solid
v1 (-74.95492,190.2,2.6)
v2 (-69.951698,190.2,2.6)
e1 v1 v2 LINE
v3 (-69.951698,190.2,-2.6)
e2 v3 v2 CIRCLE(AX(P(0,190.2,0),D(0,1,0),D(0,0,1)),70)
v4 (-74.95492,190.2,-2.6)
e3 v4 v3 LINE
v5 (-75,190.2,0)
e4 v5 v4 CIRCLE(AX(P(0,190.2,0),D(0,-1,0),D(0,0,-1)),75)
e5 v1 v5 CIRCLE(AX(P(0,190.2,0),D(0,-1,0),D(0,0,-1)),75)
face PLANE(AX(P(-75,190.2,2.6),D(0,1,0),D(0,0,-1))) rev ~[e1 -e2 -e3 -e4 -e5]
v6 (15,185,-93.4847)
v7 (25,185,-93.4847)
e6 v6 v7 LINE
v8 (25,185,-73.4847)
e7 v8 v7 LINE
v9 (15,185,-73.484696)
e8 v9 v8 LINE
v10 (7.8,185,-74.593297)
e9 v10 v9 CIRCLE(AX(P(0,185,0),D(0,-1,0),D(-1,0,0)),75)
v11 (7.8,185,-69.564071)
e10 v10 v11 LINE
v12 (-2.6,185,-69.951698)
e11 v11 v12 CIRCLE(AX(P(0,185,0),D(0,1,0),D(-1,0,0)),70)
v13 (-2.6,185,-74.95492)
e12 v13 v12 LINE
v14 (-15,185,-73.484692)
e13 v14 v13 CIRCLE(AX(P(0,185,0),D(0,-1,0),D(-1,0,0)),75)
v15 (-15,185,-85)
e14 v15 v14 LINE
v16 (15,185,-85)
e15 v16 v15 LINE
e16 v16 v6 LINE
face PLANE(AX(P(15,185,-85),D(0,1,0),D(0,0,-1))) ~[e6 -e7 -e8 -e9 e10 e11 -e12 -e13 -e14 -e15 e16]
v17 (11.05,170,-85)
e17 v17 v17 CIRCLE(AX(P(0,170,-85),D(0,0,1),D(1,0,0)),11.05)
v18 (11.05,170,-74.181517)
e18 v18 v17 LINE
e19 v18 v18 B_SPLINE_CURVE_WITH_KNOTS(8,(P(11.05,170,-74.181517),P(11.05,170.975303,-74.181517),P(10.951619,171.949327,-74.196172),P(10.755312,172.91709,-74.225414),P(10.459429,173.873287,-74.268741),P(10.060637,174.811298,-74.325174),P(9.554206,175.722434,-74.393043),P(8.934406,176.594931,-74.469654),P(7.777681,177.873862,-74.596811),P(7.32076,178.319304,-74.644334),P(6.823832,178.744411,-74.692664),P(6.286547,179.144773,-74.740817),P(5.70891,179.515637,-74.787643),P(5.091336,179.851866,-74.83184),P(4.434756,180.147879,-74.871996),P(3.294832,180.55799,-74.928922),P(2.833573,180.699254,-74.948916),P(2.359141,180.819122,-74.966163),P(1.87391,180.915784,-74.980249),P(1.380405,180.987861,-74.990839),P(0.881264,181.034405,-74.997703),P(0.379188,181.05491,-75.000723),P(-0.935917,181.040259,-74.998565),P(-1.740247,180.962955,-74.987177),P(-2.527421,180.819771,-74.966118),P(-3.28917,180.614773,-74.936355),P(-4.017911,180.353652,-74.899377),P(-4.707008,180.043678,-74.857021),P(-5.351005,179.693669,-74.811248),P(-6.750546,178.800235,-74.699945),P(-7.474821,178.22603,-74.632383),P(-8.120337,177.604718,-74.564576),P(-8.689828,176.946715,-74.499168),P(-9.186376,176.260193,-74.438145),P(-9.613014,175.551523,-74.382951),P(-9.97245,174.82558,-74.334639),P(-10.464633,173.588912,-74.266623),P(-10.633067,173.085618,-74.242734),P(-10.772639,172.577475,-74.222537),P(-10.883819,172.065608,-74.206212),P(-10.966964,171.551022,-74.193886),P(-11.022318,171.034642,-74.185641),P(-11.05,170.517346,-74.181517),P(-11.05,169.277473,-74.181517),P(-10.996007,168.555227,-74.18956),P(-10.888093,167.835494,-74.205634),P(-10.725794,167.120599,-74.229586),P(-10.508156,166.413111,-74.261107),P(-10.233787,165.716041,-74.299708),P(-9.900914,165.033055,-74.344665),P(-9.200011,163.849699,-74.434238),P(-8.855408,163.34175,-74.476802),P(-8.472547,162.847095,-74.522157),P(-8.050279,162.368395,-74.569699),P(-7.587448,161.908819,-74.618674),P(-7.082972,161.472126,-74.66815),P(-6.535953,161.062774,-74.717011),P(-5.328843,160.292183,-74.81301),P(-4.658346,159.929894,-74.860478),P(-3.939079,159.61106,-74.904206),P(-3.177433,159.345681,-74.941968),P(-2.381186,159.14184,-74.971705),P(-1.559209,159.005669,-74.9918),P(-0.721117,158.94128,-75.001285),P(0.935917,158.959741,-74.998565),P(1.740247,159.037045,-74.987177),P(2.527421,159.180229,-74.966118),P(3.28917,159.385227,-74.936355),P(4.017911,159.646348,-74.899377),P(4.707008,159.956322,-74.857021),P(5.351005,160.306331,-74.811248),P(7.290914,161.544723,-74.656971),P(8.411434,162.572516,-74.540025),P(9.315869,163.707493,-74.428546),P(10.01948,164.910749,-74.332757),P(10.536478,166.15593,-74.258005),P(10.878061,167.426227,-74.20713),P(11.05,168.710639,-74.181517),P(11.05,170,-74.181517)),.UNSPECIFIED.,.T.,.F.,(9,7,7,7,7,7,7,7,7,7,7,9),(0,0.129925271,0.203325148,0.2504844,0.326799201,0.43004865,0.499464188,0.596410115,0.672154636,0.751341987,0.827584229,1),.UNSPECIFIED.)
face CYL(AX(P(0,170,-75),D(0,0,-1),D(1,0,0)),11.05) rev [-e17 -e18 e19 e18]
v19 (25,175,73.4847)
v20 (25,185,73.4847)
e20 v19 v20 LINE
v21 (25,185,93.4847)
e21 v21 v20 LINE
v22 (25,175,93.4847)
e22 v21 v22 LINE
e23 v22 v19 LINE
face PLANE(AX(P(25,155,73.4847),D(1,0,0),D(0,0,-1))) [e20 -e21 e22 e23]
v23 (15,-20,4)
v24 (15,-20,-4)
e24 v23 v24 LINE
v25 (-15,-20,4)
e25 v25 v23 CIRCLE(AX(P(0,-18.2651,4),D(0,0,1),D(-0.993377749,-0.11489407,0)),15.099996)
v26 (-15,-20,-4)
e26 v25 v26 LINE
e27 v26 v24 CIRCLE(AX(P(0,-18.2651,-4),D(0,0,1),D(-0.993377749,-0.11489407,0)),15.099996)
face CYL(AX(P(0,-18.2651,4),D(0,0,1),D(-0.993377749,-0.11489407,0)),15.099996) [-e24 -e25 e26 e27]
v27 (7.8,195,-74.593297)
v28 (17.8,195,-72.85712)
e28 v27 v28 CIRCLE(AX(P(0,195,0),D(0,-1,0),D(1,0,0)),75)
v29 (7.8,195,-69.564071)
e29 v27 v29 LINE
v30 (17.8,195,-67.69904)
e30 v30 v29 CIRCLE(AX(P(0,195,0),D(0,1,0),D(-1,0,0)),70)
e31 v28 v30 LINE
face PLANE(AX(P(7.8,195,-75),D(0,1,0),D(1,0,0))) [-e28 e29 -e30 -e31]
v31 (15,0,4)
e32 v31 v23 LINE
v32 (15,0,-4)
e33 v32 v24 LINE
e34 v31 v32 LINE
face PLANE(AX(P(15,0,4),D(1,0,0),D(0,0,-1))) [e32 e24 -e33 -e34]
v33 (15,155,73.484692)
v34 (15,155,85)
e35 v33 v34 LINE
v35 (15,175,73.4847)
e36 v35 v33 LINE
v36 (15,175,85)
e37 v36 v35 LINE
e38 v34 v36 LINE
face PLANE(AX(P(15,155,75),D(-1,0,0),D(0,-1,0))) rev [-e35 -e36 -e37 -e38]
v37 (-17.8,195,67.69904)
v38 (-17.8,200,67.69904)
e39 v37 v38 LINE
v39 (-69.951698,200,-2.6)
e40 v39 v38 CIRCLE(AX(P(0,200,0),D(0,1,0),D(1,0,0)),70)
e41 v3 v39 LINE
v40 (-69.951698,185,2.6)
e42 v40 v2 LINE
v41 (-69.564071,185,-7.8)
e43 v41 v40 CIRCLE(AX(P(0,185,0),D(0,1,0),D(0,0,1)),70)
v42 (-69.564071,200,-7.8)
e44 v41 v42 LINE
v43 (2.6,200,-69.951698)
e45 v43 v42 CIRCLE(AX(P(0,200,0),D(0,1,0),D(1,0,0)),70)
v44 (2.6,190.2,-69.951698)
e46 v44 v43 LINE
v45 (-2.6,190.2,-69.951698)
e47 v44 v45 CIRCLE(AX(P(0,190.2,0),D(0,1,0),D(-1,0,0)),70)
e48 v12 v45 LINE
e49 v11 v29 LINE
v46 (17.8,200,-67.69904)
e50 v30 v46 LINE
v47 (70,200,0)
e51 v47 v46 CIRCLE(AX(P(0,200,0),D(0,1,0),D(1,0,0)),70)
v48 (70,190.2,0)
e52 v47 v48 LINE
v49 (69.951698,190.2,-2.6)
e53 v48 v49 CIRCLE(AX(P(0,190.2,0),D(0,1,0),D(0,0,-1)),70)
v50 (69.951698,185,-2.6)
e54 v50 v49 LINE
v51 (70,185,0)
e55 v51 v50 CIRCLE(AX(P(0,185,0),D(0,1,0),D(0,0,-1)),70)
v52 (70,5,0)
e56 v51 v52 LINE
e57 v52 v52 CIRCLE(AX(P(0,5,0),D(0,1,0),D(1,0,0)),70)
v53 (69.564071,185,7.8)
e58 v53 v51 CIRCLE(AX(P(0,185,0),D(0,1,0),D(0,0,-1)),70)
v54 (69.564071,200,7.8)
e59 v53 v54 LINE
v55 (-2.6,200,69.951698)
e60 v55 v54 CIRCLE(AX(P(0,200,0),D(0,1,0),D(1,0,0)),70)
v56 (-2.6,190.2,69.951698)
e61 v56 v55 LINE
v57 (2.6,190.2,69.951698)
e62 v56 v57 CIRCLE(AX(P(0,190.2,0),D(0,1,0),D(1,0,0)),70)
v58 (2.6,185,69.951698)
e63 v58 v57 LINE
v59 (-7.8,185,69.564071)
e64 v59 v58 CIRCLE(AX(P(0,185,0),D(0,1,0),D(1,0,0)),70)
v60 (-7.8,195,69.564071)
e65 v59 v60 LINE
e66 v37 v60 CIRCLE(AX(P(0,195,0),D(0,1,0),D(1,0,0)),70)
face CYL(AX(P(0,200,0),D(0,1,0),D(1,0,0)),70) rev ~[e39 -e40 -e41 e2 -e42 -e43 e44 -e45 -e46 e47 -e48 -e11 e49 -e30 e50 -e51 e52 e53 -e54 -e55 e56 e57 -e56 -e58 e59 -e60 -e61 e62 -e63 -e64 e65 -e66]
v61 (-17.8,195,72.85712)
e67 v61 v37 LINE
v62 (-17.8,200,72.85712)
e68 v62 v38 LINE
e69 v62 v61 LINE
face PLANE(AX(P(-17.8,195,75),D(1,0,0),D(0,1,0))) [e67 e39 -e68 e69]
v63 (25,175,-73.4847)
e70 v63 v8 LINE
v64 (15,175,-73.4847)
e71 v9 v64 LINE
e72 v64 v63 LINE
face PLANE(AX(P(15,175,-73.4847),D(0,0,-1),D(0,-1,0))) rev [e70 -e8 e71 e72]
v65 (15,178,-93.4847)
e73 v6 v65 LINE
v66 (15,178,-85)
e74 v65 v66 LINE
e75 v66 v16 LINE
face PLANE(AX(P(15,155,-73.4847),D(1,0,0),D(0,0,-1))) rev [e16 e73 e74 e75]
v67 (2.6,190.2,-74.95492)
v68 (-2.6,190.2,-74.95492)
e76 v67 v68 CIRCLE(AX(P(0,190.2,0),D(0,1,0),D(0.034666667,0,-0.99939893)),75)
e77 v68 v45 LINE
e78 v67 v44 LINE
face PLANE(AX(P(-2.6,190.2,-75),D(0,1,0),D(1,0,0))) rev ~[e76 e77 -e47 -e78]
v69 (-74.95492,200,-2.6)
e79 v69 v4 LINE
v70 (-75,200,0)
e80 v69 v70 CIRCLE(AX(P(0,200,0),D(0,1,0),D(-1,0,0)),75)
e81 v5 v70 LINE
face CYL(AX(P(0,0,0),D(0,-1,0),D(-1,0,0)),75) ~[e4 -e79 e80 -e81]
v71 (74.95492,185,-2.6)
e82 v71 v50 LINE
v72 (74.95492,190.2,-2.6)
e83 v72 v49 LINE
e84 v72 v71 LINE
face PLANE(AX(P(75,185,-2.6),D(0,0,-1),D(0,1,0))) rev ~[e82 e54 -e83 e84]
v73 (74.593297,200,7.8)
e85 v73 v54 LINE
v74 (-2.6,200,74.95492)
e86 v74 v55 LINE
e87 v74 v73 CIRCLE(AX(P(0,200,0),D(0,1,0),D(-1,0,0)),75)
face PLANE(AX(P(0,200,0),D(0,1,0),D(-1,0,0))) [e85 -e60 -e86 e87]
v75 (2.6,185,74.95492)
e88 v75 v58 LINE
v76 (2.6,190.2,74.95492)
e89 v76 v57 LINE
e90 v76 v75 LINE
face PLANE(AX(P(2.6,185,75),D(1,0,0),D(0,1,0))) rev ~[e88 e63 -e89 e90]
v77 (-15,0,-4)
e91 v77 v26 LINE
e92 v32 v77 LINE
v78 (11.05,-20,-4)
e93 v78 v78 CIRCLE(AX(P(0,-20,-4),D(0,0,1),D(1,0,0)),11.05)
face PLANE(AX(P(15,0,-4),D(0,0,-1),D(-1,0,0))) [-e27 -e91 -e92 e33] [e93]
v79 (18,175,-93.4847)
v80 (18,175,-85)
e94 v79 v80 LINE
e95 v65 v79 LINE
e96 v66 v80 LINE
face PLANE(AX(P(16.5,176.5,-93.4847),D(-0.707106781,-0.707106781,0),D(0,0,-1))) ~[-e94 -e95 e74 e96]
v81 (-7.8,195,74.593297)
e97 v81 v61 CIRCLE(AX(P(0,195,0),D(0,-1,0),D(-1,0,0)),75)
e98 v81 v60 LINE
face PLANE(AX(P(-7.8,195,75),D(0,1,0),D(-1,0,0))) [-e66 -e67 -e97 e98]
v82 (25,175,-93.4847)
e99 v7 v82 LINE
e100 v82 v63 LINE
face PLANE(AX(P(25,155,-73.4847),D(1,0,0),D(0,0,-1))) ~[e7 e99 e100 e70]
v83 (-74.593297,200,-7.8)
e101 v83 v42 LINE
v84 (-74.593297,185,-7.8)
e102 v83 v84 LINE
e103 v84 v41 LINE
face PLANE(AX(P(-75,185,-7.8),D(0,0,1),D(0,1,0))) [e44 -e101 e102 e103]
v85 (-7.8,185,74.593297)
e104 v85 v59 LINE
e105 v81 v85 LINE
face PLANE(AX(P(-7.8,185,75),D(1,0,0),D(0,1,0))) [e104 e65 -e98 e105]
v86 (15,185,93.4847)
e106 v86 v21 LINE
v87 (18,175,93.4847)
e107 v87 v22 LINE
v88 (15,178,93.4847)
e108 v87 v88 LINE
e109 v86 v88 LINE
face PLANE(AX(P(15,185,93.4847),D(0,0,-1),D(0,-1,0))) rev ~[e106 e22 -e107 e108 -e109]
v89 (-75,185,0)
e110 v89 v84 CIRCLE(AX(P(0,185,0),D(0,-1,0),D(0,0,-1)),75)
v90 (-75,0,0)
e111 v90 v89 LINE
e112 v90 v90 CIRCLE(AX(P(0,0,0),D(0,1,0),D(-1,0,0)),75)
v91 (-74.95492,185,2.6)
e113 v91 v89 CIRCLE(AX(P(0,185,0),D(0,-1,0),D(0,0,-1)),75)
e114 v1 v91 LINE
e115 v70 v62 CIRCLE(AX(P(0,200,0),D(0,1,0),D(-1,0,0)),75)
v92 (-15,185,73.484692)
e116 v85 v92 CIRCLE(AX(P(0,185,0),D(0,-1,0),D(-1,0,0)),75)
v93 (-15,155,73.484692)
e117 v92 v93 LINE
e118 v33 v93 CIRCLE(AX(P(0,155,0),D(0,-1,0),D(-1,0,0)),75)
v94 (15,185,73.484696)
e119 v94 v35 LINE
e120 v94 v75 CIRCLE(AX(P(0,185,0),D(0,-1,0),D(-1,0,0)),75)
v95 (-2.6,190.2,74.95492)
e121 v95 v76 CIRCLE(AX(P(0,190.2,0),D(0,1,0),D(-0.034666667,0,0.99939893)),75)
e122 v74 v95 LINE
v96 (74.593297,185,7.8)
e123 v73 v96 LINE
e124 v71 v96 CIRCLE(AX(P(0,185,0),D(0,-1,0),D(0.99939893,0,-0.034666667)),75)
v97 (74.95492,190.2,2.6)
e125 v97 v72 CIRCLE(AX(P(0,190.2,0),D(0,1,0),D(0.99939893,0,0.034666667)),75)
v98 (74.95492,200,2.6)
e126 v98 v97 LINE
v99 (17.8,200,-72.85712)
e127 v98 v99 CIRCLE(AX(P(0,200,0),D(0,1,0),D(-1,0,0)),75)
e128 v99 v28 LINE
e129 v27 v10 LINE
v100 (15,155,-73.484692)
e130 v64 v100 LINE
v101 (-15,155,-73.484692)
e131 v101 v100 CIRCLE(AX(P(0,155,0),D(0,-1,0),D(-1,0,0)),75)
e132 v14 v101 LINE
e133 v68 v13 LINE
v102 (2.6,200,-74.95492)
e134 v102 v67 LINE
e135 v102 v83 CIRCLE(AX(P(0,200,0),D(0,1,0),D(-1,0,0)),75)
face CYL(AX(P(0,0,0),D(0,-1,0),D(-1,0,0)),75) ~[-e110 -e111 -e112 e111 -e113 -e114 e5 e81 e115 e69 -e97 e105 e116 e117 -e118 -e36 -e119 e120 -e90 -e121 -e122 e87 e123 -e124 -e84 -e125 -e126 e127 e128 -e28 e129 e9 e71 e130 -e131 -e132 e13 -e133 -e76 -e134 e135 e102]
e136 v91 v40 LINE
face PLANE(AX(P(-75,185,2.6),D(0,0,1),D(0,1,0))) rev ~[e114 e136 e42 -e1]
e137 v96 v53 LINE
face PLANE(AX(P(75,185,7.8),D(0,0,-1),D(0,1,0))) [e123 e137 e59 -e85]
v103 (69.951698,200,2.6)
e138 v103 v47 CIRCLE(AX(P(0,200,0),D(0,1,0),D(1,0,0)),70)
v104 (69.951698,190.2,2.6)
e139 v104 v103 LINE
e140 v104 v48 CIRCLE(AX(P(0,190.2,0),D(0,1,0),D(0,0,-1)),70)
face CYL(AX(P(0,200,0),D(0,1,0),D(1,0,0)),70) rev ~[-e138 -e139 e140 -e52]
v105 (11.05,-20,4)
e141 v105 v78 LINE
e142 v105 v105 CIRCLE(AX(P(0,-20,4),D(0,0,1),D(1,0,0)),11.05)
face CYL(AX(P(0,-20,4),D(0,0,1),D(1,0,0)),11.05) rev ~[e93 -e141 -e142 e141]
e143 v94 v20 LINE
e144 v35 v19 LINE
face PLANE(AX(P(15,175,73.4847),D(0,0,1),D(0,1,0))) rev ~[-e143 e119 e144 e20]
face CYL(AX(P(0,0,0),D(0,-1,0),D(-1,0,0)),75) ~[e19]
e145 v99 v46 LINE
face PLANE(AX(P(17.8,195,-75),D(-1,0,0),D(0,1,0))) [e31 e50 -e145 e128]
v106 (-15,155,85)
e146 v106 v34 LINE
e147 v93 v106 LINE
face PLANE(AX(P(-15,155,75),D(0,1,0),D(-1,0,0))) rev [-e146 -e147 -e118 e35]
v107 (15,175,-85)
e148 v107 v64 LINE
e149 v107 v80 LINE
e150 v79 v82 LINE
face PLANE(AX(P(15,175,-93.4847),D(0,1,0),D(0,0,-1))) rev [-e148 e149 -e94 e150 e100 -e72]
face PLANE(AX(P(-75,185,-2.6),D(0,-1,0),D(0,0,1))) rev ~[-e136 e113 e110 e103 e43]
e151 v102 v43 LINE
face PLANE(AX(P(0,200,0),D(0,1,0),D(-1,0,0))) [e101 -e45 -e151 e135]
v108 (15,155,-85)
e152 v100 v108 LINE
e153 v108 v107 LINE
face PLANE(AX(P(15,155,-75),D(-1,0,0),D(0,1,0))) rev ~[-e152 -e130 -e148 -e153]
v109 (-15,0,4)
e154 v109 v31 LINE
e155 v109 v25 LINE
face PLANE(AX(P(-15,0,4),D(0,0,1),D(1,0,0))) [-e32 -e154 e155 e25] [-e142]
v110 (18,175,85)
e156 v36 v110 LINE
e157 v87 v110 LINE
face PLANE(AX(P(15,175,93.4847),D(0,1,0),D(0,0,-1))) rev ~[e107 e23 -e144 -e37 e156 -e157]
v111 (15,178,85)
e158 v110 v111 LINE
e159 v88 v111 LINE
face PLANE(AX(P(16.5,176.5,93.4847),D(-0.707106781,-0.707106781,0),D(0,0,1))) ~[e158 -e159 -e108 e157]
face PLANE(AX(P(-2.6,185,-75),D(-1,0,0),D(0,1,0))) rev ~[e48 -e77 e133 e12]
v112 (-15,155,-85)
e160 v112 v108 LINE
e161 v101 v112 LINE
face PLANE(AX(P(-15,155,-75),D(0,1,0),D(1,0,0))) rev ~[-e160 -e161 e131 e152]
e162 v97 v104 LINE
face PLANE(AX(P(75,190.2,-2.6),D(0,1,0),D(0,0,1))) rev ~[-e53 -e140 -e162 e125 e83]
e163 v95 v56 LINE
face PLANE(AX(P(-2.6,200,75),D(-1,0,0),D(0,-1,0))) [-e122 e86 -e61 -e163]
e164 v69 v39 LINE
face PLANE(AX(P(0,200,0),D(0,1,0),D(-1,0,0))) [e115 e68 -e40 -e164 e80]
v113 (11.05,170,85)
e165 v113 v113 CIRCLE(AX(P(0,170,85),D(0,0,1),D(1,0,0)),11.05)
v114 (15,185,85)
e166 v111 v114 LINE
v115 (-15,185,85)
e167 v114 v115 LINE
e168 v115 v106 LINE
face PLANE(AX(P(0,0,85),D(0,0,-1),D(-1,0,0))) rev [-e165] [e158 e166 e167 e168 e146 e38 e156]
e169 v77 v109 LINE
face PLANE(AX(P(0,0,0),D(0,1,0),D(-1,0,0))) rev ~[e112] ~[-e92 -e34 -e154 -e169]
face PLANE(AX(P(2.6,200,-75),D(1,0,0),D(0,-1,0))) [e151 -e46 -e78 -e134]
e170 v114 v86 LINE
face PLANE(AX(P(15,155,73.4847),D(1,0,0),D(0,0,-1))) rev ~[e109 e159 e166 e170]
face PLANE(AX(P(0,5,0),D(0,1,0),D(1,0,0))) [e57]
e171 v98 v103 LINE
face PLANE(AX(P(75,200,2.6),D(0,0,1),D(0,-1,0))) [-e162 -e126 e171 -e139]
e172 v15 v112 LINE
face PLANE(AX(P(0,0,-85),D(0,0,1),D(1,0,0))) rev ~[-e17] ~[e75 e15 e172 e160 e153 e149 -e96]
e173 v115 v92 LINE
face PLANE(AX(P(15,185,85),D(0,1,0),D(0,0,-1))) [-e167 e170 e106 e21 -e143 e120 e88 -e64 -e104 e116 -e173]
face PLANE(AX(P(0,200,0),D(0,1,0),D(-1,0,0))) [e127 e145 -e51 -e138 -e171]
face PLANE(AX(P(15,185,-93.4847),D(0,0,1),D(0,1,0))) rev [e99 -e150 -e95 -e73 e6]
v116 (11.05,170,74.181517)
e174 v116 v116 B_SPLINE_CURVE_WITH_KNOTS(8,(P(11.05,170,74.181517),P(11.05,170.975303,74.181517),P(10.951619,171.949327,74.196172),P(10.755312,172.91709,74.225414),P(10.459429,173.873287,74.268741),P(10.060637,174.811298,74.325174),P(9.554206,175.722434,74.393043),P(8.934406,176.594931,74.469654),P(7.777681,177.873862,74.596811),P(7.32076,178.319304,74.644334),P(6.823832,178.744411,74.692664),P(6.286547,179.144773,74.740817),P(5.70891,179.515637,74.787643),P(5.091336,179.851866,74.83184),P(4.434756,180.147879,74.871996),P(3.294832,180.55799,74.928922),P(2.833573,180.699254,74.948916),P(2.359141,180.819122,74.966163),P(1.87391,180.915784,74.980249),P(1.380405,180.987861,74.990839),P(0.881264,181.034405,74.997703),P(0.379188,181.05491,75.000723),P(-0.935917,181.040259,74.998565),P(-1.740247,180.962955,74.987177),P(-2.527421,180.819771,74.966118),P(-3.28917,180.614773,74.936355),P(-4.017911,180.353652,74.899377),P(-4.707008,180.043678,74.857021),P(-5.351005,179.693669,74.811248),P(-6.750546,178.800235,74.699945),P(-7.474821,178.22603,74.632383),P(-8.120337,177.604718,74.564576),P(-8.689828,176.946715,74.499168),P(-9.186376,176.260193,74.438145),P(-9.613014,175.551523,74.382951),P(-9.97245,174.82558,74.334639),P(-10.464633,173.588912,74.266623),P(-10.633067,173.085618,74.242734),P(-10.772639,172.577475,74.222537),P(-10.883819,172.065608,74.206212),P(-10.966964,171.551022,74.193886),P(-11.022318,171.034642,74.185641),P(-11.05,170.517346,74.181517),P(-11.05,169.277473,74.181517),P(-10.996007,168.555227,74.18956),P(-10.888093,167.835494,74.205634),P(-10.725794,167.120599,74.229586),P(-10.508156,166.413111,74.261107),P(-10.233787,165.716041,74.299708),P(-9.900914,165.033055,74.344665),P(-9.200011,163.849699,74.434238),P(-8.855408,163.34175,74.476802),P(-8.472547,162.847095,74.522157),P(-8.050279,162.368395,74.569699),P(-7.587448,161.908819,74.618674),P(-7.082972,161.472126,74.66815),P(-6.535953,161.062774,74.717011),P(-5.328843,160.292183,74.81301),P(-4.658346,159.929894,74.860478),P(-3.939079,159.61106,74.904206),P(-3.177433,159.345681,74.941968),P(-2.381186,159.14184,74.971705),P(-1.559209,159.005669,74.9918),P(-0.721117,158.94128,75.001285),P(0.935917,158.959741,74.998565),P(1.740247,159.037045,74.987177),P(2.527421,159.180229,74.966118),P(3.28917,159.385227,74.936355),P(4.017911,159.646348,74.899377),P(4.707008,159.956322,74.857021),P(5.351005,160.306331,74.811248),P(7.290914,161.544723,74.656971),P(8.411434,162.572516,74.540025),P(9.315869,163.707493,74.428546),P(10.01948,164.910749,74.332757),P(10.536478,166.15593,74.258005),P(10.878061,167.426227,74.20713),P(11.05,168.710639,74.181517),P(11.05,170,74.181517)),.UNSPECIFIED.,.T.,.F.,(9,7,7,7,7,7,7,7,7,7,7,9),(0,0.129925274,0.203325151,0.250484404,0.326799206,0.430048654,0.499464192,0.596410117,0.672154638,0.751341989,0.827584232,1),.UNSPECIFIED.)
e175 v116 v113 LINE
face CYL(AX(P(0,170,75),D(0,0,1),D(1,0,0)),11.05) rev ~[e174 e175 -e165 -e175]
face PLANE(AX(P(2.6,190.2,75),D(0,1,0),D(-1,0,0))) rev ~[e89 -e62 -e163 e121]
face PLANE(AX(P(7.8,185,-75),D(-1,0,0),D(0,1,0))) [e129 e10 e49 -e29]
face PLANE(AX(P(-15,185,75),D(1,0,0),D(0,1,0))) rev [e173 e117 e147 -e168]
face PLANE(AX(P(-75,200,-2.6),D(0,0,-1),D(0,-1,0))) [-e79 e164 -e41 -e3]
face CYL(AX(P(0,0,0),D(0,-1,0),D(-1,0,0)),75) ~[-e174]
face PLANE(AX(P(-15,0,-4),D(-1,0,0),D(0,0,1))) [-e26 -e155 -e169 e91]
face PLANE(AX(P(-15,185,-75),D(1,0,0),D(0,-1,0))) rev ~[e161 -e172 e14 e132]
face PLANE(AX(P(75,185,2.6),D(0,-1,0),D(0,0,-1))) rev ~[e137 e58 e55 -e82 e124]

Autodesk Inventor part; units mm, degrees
ref_plane "YZ Plane" through (0, 0, 0) normal (1, 0, 0) x (0, 1, 0)
ref_plane "XZ Plane" through (0, 0, 0) normal (0, 1, 0) x (-1, 0, 0)
sketch "Sketch1" plane through (0, 0, 0) normal (0, 1, 0) x (-1, 0, 0)
  circle A0 centre (0, 0) radius 75
  dimension "d0" = 150
extrude "Extrusion1" add sketch "Sketch1" along normal blind 200
sketch "Sketch2" plane through (0, 200, 0) normal (0, 1, 0) x (1, 0, 0)
  circle A0 centre (0, 0) radius 75 projected
  circle A1 centre (0, 0) radius 70
  dimension "d3" = 5
extrude "Extrusion2" cut sketch "Sketch2" against normal blind 195 contours A1
ref_plane "Work Plane1" through (0, 0, -75) normal (0, 0, 1) x (1, 0, 0)
sketch "Sketch4" plane through (0, 0, -75) normal (0, 0, 1) x (1, 0, 0)
  line L0 (15, 185) -> (-15, 185)
  line L1 (-15, 185) -> (-15, 155)
  line L2 (-15, 155) -> (15, 155)
  line L3 (15, 155) -> (15, 185)
  line L4 (15, 185) -> (-15, 155) construction
  line L5 (-15, 185) -> (15, 155) construction
  line L6 (75, 200) -> (-75, 200) construction
  line L7 (0, 170) -> (0, 200) construction
  circle A0 centre (0, 170) radius 11.05
  point P0 (0, 0)
  dimension "d8" = 30
  dimension "d9" = 30
  dimension "d10" = 30
  dimension "d15" = 22.1
extrude "Extrusion3" add sketch "Sketch4" along normal blind 3 and the other way blind 10
mirror "Mirror1" about plane through (0, 0, 0) normal (0, 0, 1) of "Extrusion3"
sketch "Sketch5" plane through (0, 0, 0) normal (0, -1, 0) x (1, 0, 0)
  line L0 (15, -4) -> (-15, -4)
  line L1 (-15, -4) -> (-15, 4)
  line L2 (-15, 4) -> (15, 4)
  line L3 (15, 4) -> (15, -4)
  line L4 (15, -4) -> (-15, 4) construction
  line L5 (-15, -4) -> (15, 4) construction
  circle A0 centre (0, 0) radius 75 projected
  dimension "d27" = 30
  dimension "d28" = 8
extrude "Extrusion4" add sketch "Sketch5" along normal blind 35 contours L0 L1 L2 L3
sketch "Sketch7" plane through (-15, 0, 4) normal (0, 0, 1) x (1, 0, 0)
  circle A0 centre (15, -20) radius 11.05
  line L0 (0, 0) -> (0, -35) projected
  line L1 (30, -35) -> (0, -35) projected
  point P0 (15, 0)
  dimension "d29" = 22.1
  dimension "d30" = 15
  dimension "d31" = 15
extrude "Extrusion6" cut sketch "Sketch7" against normal up to surface (8 mm away)
sketch "Sketch8" plane through (-15, 0, 4) normal (0, 0, 1) x (1, 0, 0)
  circle A0 centre (15, -20) radius 11.05 projected
  line L0 (0, 0) -> (30, 0) projected
  line L1 (0, 0) -> (0, -35) projected
  line L2 (30, -35) -> (0, -35) projected
  line L3 (30, 0) -> (30, -35) projected
  arc A1 (0, -20) -> (30, -20) centre (15, -18.2651) ccw
  line L4 (0, -20) -> (30, -20)
  line L5 (30, -20) -> (30, -35)
  line L6 (30, -35) -> (0, -35)
  line L7 (0, -35) -> (0, -20)
  dimension "d37" = 15.1
extrude "Extrusion8" cut sketch "Sketch8" against normal blind 35 contours L3 L2 L1 A1
sketch "Sketch9" plane through (15, 155, 73.4847) normal (1, 0, 0) x (0, 0, -1)
  line L0 (-11.5153, 30) -> (0, 30) projected
  line L1 (0, 30) -> (-20, 30)
  line L2 (-20, 30) -> (-20, 20)
  line L3 (-20, 20) -> (0, 20)
  line L4 (0, 20) -> (0, 30)
  point P0 (73.4847, -155)
  dimension "d40" = 20
  dimension "d41" = 10
extrude "Extrusion9" add sketch "Sketch9" along normal blind 10
mirror "Mirror2" about plane through (0, 0, 0) normal (0, 0, 1) of "Extrusion9"
chamfer "Chamfer1" distance 3 angle 45 2 edges at (15, 175, 89.2423) (15, 175, -89.2423)
ref_plane "Work Plane2" through (0, 0, 75) normal (0, 0, 1) x (1, 0, 0)
sketch "Sketch10" plane through (0, 0, 75) normal (0, 0, 1) x (1, 0, 0)
  line L0 (2.6, 190.2) -> (-2.6, 190.2)
  line L1 (-2.6, 190.2) -> (-2.6, 185)
  line L2 (-2.6, 185) -> (2.6, 185)
  line L3 (2.6, 185) -> (2.6, 190.2)
  line L4 (-15, 155) -> (-15, 185) projected
  line L5 (15, 155) -> (-15, 155) projected
  line L6 (15, 175) -> (15, 155) projected
  line L7 (15, 175) -> (18, 175) projected
  line L8 (18, 175) -> (15, 178) projected
  line L9 (15, 185) -> (15, 178) projected
  line L10 (-15, 185) -> (15, 185) projected
  circle A0 centre (0, 170) radius 11.05 projected
  line L11 (15, 185) -> (-15, 185) construction
  line L12 (0, 185) -> (0, 170) construction
  line L13 (-70, 200) -> (70, 200) projected
  line L14 (-2.6, 185) -> (-7.8, 185)
  line L15 (-7.8, 185) -> (-7.8, 200)
  line L16 (-7.8, 200) -> (-2.6, 200)
  line L17 (-2.6, 200) -> (-2.6, 185)
  point P0 (0, 0)
  dimension "d50" = 5.2
  dimension "d51" = 5.2
  dimension "d52" = 5.2
extrude "Extrusion10" cut sketch "Sketch10" against normal up to surface contours L3 L2 L1 L0 | L1 L10 L15 L13 L17
pattern_circular "Circular Pattern1" count 4 over 360 about axis through (0, 200, 0) along (0, -1, 0) of "Extrusion10"
sketch "Sketch11" plane through (0, 0, 75) normal (0, 0, 1) x (1, 0, 0)
  line L0 (-70, 5) -> (70, 5) projected
  line L1 (69.5641, 200) -> (69.5641, 185) projected
  line L2 (69.5641, 185) -> (69.9517, 185) projected
  line L3 (69.9517, 185) -> (69.9517, 190.2) projected
  line L4 (69.9517, 190.2) -> (69.9517, 190.2) projected
  line L5 (69.9517, 190.2) -> (69.9517, 200) projected
  line L6 (7.8, 200) -> (69.9517, 200) projected
  line L7 (7.8, 200) -> (7.8, 185) projected
  line L8 (7.8, 185) -> (-2.6, 185) projected
  line L9 (-2.6, 185) -> (-2.6, 190.2) projected
  line L10 (-2.6, 190.2) -> (2.6, 190.2) projected
  line L11 (2.6, 190.2) -> (2.6, 200) projected
  line L12 (-69.5641, 200) -> (2.6, 200) projected
  line L13 (-69.5641, 200) -> (-69.5641, 185) projected
  line L14 (-69.5641, 185) -> (-69.9517, 185) projected
  line L15 (-69.9517, 185) -> (-69.9517, 190.2) projected
  line L16 (-69.9517, 190.2) -> (-69.9517, 190.2) projected
  line L17 (-69.9517, 190.2) -> (-69.9517, 200) projected
  line L18 (-7.8, 200) -> (-69.9517, 200) projected
  line L19 (-7.8, 200) -> (-7.8, 185) projected
  line L20 (-7.8, 185) -> (2.6, 185) projected
  line L21 (2.6, 185) -> (2.6, 190.2) projected
  line L22 (2.6, 190.2) -> (-2.6, 190.2) projected
  line L23 (-2.6, 190.2) -> (-2.6, 200) projected
  line L24 (69.5641, 200) -> (-2.6, 200) projected
  line L25 (-17.8, 200) -> (-7.8, 200)
  line L26 (-7.8, 200) -> (-7.8, 195)
  line L27 (-7.8, 195) -> (-17.8, 195)
  line L28 (-17.8, 195) -> (-17.8, 200)
  point P0 (0, 0)
  dimension "d58" = 10
  dimension "d59" = 5
extrude "Extrusion11" cut sketch "Sketch11" against normal up to surface contours L19 L27 L28 L12
pattern_circular "Circular Pattern2" count 2 over 360 about axis through (0, 0, 0) along (0, 1, 0) of "Extrusion11"
properties part number "main_body"
